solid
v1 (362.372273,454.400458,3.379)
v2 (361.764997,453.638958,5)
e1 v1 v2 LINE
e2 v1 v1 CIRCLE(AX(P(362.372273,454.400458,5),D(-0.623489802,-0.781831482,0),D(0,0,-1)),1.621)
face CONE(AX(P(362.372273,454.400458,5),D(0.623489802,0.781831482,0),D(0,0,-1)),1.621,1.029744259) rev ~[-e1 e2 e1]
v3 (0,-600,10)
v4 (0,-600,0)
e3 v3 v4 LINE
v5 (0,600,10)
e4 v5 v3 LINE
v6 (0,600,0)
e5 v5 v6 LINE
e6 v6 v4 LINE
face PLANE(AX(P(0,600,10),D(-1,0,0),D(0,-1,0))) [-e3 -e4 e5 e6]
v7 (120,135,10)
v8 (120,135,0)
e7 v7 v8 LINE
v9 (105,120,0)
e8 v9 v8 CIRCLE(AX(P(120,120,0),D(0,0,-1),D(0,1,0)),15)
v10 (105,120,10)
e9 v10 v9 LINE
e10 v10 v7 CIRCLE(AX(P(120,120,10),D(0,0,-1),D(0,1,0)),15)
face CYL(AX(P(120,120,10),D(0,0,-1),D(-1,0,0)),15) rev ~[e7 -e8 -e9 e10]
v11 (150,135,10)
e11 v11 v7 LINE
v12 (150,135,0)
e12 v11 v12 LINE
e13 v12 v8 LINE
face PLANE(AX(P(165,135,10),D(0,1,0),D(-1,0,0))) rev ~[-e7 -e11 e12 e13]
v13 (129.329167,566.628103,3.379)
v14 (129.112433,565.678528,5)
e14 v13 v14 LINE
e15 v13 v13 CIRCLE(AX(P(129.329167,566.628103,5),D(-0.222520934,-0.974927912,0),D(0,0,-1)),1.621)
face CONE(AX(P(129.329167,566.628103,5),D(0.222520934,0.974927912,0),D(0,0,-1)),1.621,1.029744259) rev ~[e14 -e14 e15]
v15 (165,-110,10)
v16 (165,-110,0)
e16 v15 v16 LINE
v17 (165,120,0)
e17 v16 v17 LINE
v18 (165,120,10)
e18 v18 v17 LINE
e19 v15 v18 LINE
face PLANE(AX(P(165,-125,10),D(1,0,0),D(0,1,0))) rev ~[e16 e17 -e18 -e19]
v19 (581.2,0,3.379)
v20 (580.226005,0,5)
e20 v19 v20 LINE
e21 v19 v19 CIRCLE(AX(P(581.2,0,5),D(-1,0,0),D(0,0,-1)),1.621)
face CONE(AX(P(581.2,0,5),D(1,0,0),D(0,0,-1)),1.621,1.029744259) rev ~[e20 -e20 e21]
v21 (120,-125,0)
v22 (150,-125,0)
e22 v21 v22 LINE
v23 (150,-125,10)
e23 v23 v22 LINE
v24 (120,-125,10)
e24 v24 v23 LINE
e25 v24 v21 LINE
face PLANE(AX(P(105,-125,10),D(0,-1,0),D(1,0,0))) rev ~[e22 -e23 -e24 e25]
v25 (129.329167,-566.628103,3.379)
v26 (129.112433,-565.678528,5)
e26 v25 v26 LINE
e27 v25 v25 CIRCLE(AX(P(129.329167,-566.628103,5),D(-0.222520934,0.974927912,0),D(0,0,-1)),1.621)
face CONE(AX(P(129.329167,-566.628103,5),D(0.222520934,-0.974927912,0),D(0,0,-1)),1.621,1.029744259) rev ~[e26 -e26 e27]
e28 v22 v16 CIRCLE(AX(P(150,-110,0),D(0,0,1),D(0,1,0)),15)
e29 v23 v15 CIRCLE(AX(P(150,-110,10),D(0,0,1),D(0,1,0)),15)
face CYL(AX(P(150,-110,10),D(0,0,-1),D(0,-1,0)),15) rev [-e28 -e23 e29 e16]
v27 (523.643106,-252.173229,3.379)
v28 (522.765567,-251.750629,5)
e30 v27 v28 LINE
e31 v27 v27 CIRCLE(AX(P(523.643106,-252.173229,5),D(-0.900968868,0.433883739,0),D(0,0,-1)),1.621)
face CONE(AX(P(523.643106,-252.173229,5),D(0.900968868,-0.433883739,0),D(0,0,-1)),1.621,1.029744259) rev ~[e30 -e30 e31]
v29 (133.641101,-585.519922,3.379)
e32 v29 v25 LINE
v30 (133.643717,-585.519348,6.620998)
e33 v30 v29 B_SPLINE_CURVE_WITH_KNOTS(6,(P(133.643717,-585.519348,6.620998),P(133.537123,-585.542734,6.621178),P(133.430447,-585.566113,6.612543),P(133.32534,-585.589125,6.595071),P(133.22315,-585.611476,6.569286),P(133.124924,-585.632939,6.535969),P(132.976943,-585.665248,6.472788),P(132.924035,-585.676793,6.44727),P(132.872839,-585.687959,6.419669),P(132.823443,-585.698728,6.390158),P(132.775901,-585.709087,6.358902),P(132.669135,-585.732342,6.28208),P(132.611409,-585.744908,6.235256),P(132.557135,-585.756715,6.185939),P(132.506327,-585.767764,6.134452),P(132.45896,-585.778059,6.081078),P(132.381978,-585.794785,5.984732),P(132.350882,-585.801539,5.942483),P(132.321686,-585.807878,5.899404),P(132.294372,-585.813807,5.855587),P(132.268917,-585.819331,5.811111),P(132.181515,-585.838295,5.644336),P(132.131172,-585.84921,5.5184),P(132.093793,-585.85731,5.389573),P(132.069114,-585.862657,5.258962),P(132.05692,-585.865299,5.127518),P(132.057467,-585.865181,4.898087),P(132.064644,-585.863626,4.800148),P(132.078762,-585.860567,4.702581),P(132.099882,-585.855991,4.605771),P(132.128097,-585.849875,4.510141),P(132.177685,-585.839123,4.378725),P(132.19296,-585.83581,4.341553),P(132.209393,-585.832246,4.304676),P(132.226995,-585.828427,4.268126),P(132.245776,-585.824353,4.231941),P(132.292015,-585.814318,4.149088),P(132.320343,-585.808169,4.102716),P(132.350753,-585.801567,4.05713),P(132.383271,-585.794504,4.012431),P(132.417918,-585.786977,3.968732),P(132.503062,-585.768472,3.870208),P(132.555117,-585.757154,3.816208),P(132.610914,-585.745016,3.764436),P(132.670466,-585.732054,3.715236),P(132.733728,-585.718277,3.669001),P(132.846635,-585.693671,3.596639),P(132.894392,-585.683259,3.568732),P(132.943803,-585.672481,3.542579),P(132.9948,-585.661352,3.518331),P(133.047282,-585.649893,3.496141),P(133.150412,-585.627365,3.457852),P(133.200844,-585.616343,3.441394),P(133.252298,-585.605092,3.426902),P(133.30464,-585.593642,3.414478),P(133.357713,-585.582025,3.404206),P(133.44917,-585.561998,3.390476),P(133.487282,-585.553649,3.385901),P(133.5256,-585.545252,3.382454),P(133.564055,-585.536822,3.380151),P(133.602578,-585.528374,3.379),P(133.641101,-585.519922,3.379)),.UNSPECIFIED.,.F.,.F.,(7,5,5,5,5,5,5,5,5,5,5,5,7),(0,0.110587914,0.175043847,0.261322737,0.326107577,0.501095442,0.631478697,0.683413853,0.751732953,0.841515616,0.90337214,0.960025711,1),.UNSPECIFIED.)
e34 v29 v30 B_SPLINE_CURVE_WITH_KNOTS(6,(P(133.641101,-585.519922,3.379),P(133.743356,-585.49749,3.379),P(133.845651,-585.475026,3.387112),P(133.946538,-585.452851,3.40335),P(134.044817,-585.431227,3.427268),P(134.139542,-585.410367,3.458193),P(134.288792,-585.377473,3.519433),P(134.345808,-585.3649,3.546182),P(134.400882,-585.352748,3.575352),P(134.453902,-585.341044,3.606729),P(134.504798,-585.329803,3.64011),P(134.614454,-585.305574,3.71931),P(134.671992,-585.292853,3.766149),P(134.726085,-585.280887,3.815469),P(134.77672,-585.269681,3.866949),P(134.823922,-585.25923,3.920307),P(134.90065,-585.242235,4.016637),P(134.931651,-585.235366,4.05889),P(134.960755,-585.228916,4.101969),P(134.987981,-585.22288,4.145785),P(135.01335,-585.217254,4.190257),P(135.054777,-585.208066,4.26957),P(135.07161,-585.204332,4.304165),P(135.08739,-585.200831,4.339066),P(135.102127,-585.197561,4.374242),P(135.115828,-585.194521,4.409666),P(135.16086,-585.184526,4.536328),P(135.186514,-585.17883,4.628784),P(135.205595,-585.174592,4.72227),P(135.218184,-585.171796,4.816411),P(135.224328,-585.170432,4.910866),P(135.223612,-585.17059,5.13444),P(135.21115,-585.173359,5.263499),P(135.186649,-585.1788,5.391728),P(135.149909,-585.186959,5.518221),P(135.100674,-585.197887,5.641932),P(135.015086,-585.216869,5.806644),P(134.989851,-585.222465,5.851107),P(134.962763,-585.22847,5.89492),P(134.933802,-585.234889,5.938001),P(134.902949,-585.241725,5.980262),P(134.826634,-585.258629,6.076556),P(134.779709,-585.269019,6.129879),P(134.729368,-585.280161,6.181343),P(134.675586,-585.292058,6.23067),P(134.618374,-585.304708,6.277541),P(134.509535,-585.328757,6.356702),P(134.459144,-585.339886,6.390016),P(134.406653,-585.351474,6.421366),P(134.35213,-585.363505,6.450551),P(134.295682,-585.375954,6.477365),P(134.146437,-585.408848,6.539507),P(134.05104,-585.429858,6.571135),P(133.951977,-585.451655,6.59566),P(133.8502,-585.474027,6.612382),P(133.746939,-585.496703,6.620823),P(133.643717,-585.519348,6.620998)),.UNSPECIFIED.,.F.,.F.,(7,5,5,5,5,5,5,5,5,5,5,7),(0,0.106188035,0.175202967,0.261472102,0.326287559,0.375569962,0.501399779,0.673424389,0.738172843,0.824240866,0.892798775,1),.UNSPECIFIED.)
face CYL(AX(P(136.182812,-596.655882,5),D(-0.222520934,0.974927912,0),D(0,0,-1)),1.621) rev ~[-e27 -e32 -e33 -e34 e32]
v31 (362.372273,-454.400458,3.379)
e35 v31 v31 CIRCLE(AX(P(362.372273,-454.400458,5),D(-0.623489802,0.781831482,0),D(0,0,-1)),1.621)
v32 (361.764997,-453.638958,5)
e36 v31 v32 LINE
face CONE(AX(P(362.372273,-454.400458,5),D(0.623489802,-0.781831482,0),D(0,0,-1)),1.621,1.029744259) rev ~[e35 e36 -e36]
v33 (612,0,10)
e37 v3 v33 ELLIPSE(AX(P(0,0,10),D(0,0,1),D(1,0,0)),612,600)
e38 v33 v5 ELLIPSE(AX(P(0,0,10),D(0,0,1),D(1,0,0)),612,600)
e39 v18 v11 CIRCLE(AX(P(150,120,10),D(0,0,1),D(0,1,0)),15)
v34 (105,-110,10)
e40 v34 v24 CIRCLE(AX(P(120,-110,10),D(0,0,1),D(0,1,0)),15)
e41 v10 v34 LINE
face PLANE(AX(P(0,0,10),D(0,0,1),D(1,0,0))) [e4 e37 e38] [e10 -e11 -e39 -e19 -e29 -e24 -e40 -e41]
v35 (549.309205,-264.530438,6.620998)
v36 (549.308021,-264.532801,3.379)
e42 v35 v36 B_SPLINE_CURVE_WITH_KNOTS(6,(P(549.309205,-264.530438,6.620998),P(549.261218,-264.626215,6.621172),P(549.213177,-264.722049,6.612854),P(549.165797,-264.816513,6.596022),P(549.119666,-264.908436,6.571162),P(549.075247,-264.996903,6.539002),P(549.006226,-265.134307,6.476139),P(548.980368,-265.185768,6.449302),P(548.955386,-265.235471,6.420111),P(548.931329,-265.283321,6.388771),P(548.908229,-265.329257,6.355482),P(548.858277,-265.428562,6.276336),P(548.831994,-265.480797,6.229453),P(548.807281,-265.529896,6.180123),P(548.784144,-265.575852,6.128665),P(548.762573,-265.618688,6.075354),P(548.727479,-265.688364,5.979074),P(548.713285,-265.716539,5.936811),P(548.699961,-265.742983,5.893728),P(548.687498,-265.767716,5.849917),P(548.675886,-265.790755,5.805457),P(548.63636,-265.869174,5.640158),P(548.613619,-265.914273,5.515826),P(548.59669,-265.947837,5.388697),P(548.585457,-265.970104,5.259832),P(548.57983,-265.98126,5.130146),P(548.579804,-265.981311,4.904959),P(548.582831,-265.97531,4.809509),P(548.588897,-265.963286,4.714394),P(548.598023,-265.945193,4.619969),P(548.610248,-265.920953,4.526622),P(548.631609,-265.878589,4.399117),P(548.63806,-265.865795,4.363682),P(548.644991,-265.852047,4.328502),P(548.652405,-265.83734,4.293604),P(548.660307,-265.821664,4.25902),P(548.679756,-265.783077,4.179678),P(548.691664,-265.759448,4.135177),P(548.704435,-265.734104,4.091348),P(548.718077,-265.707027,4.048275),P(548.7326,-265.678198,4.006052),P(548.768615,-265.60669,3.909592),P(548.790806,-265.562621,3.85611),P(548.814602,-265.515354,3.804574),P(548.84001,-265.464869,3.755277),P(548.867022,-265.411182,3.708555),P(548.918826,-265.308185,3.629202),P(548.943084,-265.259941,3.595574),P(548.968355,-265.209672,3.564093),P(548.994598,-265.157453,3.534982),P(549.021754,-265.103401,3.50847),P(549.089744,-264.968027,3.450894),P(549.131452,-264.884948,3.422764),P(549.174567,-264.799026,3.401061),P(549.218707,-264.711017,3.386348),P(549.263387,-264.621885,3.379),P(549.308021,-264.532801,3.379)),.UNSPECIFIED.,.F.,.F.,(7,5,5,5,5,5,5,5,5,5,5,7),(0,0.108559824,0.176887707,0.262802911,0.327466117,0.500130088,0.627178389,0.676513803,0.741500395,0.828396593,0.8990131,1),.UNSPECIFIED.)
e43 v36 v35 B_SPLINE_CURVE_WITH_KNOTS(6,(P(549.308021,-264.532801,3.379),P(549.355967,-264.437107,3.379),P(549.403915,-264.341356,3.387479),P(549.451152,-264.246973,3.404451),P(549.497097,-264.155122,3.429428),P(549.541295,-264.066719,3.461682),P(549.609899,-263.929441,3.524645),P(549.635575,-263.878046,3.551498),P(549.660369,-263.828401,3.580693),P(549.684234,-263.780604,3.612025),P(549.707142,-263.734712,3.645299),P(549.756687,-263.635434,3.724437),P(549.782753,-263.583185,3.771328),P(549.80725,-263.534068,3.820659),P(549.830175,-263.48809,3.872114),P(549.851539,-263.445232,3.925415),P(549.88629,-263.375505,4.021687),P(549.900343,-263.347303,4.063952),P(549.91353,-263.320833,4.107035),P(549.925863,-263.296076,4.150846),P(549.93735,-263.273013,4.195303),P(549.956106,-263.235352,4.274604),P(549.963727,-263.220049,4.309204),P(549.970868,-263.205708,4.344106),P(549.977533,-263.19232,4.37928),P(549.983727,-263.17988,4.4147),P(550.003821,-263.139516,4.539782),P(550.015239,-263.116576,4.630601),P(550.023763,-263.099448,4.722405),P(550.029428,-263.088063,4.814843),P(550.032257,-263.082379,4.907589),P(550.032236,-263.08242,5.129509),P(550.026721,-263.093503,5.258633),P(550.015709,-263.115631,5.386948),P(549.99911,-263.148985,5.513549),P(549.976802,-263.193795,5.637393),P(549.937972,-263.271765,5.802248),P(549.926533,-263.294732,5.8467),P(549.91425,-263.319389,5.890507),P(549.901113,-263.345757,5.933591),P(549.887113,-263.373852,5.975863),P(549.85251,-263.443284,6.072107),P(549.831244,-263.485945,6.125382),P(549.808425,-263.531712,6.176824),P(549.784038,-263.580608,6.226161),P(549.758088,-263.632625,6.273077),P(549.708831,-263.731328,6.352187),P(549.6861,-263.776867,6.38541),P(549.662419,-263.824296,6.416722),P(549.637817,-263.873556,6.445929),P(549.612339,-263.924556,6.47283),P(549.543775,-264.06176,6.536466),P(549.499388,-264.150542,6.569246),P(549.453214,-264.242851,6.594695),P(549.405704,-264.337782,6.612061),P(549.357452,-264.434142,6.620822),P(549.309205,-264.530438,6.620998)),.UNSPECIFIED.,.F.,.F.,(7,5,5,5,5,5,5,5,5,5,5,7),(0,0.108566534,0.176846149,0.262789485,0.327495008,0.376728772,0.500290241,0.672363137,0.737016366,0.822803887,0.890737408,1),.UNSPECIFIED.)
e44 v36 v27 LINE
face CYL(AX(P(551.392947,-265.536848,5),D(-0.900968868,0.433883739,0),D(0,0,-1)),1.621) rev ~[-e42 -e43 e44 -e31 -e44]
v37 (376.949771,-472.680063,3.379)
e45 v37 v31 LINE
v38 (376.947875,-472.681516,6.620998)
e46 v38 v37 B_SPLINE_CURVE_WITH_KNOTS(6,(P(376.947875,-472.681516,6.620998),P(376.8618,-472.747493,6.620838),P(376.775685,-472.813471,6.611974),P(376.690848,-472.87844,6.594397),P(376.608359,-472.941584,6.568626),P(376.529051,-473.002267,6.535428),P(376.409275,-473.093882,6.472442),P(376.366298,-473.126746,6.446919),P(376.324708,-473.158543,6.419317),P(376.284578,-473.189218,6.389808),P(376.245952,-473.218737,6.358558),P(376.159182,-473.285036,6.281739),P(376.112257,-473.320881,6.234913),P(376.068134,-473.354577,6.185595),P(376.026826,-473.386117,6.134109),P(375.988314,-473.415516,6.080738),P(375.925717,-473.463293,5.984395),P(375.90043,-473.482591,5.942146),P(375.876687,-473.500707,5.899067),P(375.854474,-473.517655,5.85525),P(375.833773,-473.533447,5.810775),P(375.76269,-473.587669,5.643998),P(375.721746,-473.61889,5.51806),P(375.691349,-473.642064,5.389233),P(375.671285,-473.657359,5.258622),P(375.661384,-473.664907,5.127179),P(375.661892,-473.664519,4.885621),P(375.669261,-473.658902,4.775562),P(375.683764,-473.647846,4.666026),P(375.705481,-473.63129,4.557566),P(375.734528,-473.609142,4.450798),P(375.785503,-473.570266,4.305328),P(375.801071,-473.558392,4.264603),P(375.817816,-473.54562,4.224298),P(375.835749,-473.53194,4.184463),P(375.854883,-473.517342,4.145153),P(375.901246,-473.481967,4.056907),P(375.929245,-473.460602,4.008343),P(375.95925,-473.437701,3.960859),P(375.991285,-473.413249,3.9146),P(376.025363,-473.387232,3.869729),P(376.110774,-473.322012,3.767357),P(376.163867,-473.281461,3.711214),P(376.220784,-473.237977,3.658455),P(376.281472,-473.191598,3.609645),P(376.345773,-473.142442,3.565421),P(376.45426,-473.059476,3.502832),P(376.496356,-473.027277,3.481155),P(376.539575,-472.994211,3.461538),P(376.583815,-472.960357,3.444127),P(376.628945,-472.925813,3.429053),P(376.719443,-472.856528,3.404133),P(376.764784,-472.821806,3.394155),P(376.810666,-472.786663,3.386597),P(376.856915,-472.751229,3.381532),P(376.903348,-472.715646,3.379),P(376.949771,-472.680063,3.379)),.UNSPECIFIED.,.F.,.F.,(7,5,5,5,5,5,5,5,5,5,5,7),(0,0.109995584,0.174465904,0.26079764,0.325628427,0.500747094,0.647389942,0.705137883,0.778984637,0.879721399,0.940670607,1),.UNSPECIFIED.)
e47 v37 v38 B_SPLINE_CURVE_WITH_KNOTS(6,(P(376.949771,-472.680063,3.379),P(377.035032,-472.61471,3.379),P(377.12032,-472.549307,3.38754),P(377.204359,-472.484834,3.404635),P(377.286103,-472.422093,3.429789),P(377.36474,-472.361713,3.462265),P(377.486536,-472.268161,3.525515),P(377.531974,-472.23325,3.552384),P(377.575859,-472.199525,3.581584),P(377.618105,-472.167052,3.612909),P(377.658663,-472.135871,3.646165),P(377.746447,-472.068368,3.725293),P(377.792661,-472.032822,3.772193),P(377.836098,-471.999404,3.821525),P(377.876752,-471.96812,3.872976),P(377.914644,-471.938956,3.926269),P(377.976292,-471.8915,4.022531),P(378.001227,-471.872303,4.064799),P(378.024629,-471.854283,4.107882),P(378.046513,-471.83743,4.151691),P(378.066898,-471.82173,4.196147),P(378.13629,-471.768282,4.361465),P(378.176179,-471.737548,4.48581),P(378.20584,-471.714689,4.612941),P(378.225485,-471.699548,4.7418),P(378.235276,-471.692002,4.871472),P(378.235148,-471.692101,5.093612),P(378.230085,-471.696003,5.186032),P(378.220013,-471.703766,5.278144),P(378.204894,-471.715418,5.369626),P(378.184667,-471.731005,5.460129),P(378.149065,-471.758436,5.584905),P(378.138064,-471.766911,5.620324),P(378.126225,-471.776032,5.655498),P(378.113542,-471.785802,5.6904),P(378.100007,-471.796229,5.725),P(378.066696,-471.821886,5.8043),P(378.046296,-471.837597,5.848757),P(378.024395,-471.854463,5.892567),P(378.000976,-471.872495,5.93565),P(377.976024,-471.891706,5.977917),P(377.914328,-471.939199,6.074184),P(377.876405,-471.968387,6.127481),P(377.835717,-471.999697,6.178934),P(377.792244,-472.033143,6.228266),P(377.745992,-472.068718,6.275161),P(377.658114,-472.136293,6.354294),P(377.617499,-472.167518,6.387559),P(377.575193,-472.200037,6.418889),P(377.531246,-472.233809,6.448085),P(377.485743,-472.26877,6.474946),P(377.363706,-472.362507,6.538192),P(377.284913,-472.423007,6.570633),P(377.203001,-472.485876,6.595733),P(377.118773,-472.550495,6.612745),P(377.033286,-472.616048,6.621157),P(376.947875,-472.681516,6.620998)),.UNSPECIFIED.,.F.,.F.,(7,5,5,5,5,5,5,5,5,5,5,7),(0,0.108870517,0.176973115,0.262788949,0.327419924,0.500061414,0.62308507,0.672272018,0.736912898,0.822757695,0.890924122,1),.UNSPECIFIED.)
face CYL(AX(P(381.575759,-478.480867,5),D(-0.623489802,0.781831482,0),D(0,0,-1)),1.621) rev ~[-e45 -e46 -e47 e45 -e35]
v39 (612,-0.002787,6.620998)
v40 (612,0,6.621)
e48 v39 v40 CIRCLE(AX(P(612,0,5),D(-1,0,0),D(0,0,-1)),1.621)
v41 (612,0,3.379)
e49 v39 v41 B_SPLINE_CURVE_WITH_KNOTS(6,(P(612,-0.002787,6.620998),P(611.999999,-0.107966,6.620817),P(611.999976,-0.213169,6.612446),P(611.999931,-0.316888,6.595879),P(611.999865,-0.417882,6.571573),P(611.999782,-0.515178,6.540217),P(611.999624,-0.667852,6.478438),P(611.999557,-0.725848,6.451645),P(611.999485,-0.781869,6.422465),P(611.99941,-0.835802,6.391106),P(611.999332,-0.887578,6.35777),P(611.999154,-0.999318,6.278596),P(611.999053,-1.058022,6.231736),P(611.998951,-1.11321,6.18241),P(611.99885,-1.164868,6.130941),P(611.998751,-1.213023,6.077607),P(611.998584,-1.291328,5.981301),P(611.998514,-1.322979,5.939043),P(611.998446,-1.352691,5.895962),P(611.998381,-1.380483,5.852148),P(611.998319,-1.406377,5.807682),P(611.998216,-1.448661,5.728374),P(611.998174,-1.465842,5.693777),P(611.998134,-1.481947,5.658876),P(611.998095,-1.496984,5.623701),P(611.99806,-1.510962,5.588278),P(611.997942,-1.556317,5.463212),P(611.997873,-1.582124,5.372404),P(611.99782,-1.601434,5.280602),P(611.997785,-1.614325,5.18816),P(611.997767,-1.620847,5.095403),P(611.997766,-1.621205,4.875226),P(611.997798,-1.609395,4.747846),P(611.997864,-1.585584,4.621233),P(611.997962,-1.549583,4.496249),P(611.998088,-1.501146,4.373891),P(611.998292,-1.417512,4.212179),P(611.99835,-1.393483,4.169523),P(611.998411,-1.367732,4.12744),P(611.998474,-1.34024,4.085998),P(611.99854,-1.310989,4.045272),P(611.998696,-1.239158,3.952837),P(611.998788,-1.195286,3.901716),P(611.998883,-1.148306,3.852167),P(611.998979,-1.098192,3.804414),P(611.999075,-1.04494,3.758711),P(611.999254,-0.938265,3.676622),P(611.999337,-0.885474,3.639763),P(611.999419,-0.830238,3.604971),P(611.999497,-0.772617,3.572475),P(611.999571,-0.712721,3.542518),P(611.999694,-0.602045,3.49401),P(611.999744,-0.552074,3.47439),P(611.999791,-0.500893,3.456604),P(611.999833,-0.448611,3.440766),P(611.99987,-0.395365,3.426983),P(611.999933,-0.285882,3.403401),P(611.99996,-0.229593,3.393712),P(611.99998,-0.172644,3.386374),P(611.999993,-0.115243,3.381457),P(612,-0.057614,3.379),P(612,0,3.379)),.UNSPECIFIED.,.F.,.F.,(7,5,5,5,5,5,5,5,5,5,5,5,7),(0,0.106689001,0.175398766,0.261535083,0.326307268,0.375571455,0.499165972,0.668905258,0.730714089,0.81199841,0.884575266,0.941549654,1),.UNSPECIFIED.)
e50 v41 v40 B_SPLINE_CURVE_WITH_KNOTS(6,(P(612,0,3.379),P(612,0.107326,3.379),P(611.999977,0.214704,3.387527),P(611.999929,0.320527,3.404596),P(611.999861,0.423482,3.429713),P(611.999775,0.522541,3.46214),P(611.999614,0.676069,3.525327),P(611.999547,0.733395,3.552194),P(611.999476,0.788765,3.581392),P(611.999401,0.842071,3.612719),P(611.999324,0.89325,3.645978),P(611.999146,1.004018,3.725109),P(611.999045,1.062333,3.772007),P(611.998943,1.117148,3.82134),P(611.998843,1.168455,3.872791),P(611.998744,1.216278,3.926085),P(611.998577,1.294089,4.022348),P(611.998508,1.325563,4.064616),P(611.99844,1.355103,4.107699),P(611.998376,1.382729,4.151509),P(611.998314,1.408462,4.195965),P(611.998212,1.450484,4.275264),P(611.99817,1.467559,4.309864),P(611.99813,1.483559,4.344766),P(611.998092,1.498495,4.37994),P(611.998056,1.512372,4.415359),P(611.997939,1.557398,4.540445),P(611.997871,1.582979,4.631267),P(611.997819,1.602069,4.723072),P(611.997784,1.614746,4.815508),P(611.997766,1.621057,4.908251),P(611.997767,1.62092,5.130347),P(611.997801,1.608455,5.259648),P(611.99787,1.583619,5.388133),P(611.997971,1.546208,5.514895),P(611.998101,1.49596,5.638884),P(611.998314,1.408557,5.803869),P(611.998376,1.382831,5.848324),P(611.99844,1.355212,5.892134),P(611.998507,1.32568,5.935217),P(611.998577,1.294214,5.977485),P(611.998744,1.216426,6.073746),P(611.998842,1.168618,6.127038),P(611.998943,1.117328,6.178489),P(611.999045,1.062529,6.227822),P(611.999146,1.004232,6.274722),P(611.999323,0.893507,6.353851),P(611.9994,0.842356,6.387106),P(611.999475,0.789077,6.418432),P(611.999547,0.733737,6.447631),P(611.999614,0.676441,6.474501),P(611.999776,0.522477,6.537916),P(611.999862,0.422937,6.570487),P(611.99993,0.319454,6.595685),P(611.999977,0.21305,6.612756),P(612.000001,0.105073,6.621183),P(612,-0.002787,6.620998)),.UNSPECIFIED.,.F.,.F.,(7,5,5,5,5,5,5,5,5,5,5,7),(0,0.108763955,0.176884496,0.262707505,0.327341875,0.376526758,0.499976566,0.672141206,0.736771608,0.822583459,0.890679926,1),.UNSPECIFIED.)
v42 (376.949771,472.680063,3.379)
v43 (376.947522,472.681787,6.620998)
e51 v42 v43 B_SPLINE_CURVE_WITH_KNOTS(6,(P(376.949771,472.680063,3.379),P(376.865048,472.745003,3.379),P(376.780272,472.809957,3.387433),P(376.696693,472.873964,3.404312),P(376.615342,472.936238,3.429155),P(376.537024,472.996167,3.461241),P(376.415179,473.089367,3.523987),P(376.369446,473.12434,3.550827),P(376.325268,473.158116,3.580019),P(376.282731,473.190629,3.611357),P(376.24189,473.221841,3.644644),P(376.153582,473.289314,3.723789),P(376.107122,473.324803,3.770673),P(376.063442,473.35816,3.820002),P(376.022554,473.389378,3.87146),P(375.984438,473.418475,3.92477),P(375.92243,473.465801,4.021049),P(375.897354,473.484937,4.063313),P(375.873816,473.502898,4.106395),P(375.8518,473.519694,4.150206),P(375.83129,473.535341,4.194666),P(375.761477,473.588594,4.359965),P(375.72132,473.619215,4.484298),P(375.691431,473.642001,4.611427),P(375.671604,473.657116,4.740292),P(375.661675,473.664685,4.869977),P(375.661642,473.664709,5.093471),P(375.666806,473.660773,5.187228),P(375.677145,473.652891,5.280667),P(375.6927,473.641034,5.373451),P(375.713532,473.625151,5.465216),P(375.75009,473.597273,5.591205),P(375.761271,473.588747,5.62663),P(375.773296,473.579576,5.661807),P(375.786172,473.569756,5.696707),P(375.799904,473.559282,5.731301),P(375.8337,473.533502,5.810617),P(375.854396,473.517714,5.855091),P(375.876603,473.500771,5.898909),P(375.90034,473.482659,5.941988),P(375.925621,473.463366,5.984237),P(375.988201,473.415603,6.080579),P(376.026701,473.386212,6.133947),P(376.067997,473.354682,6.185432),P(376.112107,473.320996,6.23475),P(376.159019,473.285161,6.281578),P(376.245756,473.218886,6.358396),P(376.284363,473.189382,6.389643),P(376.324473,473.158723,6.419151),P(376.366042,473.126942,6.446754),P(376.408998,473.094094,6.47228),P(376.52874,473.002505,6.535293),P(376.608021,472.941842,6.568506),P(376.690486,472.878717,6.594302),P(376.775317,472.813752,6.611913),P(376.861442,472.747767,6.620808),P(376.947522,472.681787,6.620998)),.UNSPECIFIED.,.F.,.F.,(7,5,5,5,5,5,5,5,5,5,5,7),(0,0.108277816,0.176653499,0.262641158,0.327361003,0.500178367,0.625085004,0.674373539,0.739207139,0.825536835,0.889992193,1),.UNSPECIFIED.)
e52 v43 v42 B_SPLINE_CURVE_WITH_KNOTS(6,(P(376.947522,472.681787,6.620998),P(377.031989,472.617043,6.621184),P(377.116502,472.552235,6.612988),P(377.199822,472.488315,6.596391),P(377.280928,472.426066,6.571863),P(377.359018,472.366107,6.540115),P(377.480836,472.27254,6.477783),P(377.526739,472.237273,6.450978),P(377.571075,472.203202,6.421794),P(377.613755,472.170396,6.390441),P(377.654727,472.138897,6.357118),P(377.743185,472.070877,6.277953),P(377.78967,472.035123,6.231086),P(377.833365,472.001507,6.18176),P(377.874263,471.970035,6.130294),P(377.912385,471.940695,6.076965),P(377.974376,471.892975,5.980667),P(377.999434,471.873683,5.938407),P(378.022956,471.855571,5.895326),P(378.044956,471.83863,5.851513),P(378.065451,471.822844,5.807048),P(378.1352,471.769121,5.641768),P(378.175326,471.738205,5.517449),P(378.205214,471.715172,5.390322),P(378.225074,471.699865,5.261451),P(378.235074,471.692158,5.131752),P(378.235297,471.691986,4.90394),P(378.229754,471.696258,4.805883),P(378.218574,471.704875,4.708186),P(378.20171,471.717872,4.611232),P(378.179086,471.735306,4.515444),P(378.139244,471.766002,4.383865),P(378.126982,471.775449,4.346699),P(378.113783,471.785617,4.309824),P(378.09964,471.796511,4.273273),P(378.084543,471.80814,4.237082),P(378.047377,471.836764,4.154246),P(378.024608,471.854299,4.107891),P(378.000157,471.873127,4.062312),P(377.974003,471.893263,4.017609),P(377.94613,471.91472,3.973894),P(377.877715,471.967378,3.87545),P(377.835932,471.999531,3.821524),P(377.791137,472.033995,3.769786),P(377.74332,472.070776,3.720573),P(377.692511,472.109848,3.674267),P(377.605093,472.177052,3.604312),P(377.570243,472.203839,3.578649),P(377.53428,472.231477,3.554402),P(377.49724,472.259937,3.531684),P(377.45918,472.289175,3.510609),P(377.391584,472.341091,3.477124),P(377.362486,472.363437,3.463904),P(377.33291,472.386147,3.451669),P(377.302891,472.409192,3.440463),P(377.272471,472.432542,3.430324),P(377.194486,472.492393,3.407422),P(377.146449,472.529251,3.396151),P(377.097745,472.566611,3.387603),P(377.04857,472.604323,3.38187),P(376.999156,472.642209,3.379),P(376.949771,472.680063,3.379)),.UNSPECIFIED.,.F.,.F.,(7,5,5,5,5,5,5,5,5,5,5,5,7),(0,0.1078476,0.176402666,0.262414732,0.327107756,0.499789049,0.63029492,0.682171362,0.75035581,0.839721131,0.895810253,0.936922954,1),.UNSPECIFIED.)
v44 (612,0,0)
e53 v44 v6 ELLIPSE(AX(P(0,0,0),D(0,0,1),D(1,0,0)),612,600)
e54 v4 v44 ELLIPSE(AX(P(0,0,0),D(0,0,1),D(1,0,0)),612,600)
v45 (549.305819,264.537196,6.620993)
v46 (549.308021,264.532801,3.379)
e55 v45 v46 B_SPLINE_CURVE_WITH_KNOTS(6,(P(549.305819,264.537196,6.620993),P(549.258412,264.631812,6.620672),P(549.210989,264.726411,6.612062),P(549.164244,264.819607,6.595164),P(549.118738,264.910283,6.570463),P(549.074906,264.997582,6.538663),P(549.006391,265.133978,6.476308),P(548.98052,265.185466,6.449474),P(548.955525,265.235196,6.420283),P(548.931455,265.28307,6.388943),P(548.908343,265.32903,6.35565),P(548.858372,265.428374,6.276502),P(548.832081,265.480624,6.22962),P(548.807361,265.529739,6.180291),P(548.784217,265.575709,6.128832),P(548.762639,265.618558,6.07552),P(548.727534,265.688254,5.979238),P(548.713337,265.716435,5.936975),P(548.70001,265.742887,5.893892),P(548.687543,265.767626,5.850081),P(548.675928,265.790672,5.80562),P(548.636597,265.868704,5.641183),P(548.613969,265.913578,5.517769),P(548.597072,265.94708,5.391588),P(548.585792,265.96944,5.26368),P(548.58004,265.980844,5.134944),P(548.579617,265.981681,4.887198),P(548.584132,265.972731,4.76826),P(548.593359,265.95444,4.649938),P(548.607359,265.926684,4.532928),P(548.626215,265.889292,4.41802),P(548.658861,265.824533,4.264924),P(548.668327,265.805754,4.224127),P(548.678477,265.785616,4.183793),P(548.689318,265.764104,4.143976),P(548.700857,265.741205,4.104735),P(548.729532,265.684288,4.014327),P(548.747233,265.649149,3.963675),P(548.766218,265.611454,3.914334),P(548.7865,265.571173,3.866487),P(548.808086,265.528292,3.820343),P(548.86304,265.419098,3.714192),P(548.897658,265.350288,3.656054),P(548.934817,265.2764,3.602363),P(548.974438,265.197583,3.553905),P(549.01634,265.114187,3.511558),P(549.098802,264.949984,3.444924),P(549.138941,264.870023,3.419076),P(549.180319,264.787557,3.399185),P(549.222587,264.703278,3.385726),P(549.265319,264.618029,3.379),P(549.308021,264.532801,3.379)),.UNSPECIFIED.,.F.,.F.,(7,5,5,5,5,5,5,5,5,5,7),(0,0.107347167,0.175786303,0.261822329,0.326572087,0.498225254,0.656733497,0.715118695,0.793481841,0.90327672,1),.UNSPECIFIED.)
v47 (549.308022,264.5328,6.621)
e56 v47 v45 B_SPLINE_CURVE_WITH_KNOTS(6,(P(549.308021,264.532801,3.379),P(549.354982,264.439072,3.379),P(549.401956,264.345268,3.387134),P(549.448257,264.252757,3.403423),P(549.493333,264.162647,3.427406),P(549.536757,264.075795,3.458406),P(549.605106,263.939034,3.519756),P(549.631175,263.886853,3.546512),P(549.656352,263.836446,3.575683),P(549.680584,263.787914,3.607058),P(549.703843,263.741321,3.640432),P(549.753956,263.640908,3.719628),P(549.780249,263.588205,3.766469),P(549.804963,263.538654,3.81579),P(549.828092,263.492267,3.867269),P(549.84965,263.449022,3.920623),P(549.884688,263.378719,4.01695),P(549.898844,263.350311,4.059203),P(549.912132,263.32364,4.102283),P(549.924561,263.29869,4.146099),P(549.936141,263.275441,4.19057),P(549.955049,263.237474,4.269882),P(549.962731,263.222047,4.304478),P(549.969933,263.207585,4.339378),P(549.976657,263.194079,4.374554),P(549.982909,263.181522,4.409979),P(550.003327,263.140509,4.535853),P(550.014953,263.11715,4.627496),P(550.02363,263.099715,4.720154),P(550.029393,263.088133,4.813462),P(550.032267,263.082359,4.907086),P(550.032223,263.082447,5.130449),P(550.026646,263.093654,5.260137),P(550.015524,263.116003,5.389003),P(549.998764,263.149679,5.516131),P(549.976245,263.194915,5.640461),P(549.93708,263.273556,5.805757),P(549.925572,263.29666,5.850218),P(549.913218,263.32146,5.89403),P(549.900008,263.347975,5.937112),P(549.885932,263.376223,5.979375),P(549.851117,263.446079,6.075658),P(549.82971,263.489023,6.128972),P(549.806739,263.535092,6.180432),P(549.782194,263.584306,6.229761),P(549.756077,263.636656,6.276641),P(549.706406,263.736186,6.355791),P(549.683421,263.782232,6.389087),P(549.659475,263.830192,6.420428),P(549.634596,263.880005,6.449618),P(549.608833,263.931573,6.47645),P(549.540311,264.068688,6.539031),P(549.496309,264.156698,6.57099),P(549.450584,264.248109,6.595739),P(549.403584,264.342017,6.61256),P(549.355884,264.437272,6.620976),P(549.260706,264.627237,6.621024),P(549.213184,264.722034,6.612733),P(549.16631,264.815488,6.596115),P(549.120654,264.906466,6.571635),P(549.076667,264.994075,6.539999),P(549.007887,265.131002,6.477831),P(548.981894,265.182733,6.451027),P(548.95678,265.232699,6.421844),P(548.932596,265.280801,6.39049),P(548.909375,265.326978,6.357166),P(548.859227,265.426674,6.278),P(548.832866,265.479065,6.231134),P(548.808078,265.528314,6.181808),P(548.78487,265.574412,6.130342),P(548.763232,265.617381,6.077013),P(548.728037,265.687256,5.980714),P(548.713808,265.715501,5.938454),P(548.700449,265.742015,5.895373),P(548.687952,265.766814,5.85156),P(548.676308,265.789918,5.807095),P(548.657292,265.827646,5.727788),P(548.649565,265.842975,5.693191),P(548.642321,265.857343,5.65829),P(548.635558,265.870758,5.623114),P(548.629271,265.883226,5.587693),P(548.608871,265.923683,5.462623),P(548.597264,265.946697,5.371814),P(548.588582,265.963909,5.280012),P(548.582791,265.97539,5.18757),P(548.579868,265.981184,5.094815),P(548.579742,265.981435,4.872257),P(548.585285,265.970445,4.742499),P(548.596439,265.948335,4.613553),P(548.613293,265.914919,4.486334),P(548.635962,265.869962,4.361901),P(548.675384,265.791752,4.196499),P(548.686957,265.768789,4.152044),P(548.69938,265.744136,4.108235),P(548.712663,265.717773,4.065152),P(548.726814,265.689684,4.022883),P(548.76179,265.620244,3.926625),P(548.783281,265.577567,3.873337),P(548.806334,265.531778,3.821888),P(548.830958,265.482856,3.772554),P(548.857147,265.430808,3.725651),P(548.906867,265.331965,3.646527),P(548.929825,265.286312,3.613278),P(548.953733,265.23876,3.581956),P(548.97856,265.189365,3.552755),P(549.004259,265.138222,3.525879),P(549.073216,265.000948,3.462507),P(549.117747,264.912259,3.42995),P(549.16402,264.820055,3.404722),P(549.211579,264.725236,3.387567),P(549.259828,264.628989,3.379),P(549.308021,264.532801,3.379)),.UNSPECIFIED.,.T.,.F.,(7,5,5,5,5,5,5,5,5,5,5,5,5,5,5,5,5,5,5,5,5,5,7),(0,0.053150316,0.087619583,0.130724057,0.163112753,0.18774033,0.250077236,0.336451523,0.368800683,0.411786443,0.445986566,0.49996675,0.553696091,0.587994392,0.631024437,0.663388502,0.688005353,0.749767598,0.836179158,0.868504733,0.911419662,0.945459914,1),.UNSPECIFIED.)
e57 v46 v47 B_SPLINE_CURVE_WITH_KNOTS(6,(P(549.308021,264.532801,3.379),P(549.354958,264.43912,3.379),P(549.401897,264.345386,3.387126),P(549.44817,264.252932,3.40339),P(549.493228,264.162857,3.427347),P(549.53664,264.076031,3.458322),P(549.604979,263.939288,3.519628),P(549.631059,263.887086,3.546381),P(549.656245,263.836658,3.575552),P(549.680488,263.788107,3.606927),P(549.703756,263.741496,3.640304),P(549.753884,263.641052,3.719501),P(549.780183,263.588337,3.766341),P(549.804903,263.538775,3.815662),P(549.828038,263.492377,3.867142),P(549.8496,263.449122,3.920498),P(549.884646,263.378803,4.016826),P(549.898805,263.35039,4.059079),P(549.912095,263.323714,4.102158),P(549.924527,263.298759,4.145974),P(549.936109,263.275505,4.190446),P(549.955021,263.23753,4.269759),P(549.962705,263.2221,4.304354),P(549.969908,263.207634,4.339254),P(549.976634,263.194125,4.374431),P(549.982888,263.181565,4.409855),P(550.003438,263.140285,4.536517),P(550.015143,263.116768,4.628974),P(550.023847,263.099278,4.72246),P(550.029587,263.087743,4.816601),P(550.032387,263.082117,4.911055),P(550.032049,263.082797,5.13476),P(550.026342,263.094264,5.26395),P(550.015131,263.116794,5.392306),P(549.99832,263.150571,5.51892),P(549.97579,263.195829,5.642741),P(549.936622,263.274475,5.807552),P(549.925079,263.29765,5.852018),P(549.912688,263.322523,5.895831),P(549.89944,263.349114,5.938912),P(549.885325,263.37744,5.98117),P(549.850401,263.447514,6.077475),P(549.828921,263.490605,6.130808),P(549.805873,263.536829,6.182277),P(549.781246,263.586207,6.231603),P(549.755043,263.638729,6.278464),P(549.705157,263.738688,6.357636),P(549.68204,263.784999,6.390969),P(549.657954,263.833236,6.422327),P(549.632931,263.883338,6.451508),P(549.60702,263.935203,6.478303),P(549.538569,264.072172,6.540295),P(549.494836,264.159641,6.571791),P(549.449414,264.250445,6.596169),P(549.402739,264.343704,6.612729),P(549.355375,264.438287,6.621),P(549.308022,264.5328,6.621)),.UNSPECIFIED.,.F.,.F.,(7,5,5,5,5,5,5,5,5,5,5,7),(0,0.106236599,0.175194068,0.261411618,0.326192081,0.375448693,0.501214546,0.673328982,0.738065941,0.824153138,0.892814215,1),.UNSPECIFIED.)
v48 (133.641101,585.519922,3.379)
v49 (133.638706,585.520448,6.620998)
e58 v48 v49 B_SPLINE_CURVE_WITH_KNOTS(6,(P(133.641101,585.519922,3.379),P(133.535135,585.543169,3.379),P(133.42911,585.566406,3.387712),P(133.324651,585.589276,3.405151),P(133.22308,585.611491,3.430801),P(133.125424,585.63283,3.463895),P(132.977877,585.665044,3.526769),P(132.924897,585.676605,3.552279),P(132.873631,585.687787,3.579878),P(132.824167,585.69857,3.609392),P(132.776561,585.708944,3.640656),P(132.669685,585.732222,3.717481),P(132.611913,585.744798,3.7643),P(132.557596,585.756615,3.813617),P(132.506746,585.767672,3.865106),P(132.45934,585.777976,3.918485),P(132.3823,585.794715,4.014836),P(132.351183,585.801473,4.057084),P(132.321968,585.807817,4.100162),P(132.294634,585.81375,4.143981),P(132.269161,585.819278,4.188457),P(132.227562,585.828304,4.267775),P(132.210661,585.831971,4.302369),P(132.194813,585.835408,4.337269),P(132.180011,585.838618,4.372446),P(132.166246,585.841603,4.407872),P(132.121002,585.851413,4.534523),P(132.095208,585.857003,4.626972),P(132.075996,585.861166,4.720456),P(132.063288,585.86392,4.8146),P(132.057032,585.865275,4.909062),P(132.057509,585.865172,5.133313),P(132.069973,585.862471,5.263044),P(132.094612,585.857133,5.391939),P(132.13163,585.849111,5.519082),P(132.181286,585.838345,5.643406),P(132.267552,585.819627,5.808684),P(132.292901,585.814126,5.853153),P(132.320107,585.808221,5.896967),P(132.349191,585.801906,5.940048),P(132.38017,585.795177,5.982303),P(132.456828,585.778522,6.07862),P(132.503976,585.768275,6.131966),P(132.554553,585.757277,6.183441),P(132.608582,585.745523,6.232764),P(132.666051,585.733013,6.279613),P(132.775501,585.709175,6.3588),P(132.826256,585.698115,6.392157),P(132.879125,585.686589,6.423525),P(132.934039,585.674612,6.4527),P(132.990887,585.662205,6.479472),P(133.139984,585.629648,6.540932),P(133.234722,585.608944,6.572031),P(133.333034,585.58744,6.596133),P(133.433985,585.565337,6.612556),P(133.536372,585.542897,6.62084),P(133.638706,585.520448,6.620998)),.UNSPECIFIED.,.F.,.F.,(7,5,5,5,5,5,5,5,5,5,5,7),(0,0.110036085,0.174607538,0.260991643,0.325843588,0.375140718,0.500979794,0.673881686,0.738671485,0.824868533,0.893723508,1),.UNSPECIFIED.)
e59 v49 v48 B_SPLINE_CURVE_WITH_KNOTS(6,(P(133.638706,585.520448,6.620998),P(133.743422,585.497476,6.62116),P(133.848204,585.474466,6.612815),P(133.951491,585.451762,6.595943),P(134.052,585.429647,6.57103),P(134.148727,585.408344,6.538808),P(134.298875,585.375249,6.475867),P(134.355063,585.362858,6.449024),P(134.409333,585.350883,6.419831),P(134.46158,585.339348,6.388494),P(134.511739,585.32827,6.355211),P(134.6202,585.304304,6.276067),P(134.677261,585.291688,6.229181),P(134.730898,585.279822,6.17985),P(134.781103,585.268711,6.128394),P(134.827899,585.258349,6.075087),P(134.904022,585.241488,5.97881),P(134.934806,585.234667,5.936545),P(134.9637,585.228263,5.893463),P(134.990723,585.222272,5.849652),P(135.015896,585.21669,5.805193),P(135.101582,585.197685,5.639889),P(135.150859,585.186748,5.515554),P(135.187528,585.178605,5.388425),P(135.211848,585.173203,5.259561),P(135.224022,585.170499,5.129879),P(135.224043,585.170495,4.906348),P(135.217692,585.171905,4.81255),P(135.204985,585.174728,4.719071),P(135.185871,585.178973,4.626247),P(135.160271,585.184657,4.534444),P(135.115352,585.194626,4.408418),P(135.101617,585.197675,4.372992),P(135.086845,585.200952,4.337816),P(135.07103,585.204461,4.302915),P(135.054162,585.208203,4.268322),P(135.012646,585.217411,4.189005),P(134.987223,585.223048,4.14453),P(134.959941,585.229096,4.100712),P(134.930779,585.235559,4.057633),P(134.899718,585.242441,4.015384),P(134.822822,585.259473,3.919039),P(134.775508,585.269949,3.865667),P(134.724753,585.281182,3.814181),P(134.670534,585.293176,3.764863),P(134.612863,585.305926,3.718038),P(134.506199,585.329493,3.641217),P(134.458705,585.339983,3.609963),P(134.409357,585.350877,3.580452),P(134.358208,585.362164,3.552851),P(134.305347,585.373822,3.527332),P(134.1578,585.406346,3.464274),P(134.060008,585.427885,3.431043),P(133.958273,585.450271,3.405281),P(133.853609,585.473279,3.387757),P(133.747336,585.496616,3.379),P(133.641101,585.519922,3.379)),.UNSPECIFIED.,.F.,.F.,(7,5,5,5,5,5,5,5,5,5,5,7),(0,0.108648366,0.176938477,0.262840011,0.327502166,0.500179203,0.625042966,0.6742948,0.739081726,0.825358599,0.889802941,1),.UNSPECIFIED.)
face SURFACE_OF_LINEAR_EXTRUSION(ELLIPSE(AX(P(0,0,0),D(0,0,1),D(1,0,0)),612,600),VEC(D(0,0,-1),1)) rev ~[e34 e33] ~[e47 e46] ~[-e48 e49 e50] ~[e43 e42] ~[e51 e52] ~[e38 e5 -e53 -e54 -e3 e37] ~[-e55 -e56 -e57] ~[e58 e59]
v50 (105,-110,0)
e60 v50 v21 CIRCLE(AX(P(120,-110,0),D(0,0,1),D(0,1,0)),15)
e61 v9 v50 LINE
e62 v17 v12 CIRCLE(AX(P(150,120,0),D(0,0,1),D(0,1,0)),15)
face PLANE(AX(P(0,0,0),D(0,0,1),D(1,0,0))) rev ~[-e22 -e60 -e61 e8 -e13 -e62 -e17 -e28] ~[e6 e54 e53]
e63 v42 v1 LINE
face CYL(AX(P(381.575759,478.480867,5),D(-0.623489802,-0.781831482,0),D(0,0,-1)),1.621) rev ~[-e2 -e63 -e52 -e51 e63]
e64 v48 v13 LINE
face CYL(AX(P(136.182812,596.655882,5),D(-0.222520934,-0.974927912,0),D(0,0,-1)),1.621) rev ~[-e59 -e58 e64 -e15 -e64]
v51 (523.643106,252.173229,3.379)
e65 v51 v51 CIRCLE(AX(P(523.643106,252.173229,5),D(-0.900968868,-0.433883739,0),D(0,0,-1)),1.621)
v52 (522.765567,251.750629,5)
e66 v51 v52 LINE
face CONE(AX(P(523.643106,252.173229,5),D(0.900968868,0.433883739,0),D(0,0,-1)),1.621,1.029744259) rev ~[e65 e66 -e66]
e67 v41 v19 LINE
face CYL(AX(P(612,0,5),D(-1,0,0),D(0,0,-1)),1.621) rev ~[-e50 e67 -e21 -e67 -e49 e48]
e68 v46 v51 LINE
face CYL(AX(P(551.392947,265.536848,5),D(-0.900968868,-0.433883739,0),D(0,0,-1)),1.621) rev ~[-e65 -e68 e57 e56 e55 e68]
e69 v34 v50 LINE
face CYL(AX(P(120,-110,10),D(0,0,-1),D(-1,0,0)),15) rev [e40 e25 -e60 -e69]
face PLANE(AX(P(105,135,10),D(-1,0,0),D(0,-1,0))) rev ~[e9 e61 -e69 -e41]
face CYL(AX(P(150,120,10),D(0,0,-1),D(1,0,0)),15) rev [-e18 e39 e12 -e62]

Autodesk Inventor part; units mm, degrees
ref_plane "YZ Plane" through (0, 0, 0) normal (1, 0, 0) x (0, 1, 0)
ref_plane "XZ Plane" through (0, 0, 0) normal (0, 1, 0) x (-1, 0, 0)
sketch "Sketch1" plane through (0, 0, 0) normal (0, 0, 1) x (1, 0, 0)
  ellipse E0 centre (0, 0) end of major axis (612, 0) minor radius 600
  dimension "d0" = 612
  dimension "d1" = 600
extrude "Extrusion1" add sketch "Sketch1" along normal blind 10
sketch "Sketch2" plane through (0, 0, 10) normal (0, 0, 1) x (1, 0, 0)
  line L0 (-612, 600) -> (0, 600)
  line L1 (0, 600) -> (0, -600)
  line L2 (0, -600) -> (-612, -600)
  line L3 (-612, -600) -> (-612, 600)
  ellipse E0 centre (0, 0) end of major axis (-612, 0) minor radius 600 projected
extrude "Extrusion2" cut sketch "Sketch2" against normal through all contours L0 E0 L3 | L1 E0 | E0 L2 L3 picked at (-19.6985, 199.8178)
sketch "Sketch3" plane through (0, 0, 10) normal (0, 0, 1) x (1, 0, 0)
  line L0 (105, -125) -> (165, -125)
  line L1 (165, -125) -> (165, 135)
  line L2 (165, 135) -> (105, 135)
  line L3 (105, 135) -> (105, -125)
  line L4 (0, 600) -> (0, -600) projected
  point P0 (0, 0)
  dimension "d8" = 105
  dimension "d9" = 60
  dimension "d10" = 260
  dimension "d11" = 125
extrude "Extrusion3" cut sketch "Sketch3" against normal through all
fillet "Fillet1" radius 15 4 edges at (105, -125, 5) (165, -125, 5) (165, 135, 5) (105, 135, 5)
ref_plane "Work Plane1" through (612, -600, 10) normal (-1, 0, 0) x (0, 0, 1)
sketch "Sketch4" plane through (612, -600, 10) normal (-1, 0, 0) x (0, 0, 1)
  line L0 (0, 0) -> (0, 1200) projected
  line L1 (-12, 600) -> (2, 600) projected
  point P0 (-10, 600)
  point P1 (-5, 600)
  dimension "d16" = 5
hole "Hole1" at (612, 0, 5) direction (-1, 0, 0) diameter 3.242 depth 30.8 tip angle 118 thread size "M4x0.7" class "6H" standard "ANSI Metric M Profile"
pattern_circular "Circular Pattern1" count 14 over 360 about axis through (0, 0, -10) along (0, 0, 1) of "Hole1"
properties part number "Top_Guard 3" material "PMMA Plastic"
